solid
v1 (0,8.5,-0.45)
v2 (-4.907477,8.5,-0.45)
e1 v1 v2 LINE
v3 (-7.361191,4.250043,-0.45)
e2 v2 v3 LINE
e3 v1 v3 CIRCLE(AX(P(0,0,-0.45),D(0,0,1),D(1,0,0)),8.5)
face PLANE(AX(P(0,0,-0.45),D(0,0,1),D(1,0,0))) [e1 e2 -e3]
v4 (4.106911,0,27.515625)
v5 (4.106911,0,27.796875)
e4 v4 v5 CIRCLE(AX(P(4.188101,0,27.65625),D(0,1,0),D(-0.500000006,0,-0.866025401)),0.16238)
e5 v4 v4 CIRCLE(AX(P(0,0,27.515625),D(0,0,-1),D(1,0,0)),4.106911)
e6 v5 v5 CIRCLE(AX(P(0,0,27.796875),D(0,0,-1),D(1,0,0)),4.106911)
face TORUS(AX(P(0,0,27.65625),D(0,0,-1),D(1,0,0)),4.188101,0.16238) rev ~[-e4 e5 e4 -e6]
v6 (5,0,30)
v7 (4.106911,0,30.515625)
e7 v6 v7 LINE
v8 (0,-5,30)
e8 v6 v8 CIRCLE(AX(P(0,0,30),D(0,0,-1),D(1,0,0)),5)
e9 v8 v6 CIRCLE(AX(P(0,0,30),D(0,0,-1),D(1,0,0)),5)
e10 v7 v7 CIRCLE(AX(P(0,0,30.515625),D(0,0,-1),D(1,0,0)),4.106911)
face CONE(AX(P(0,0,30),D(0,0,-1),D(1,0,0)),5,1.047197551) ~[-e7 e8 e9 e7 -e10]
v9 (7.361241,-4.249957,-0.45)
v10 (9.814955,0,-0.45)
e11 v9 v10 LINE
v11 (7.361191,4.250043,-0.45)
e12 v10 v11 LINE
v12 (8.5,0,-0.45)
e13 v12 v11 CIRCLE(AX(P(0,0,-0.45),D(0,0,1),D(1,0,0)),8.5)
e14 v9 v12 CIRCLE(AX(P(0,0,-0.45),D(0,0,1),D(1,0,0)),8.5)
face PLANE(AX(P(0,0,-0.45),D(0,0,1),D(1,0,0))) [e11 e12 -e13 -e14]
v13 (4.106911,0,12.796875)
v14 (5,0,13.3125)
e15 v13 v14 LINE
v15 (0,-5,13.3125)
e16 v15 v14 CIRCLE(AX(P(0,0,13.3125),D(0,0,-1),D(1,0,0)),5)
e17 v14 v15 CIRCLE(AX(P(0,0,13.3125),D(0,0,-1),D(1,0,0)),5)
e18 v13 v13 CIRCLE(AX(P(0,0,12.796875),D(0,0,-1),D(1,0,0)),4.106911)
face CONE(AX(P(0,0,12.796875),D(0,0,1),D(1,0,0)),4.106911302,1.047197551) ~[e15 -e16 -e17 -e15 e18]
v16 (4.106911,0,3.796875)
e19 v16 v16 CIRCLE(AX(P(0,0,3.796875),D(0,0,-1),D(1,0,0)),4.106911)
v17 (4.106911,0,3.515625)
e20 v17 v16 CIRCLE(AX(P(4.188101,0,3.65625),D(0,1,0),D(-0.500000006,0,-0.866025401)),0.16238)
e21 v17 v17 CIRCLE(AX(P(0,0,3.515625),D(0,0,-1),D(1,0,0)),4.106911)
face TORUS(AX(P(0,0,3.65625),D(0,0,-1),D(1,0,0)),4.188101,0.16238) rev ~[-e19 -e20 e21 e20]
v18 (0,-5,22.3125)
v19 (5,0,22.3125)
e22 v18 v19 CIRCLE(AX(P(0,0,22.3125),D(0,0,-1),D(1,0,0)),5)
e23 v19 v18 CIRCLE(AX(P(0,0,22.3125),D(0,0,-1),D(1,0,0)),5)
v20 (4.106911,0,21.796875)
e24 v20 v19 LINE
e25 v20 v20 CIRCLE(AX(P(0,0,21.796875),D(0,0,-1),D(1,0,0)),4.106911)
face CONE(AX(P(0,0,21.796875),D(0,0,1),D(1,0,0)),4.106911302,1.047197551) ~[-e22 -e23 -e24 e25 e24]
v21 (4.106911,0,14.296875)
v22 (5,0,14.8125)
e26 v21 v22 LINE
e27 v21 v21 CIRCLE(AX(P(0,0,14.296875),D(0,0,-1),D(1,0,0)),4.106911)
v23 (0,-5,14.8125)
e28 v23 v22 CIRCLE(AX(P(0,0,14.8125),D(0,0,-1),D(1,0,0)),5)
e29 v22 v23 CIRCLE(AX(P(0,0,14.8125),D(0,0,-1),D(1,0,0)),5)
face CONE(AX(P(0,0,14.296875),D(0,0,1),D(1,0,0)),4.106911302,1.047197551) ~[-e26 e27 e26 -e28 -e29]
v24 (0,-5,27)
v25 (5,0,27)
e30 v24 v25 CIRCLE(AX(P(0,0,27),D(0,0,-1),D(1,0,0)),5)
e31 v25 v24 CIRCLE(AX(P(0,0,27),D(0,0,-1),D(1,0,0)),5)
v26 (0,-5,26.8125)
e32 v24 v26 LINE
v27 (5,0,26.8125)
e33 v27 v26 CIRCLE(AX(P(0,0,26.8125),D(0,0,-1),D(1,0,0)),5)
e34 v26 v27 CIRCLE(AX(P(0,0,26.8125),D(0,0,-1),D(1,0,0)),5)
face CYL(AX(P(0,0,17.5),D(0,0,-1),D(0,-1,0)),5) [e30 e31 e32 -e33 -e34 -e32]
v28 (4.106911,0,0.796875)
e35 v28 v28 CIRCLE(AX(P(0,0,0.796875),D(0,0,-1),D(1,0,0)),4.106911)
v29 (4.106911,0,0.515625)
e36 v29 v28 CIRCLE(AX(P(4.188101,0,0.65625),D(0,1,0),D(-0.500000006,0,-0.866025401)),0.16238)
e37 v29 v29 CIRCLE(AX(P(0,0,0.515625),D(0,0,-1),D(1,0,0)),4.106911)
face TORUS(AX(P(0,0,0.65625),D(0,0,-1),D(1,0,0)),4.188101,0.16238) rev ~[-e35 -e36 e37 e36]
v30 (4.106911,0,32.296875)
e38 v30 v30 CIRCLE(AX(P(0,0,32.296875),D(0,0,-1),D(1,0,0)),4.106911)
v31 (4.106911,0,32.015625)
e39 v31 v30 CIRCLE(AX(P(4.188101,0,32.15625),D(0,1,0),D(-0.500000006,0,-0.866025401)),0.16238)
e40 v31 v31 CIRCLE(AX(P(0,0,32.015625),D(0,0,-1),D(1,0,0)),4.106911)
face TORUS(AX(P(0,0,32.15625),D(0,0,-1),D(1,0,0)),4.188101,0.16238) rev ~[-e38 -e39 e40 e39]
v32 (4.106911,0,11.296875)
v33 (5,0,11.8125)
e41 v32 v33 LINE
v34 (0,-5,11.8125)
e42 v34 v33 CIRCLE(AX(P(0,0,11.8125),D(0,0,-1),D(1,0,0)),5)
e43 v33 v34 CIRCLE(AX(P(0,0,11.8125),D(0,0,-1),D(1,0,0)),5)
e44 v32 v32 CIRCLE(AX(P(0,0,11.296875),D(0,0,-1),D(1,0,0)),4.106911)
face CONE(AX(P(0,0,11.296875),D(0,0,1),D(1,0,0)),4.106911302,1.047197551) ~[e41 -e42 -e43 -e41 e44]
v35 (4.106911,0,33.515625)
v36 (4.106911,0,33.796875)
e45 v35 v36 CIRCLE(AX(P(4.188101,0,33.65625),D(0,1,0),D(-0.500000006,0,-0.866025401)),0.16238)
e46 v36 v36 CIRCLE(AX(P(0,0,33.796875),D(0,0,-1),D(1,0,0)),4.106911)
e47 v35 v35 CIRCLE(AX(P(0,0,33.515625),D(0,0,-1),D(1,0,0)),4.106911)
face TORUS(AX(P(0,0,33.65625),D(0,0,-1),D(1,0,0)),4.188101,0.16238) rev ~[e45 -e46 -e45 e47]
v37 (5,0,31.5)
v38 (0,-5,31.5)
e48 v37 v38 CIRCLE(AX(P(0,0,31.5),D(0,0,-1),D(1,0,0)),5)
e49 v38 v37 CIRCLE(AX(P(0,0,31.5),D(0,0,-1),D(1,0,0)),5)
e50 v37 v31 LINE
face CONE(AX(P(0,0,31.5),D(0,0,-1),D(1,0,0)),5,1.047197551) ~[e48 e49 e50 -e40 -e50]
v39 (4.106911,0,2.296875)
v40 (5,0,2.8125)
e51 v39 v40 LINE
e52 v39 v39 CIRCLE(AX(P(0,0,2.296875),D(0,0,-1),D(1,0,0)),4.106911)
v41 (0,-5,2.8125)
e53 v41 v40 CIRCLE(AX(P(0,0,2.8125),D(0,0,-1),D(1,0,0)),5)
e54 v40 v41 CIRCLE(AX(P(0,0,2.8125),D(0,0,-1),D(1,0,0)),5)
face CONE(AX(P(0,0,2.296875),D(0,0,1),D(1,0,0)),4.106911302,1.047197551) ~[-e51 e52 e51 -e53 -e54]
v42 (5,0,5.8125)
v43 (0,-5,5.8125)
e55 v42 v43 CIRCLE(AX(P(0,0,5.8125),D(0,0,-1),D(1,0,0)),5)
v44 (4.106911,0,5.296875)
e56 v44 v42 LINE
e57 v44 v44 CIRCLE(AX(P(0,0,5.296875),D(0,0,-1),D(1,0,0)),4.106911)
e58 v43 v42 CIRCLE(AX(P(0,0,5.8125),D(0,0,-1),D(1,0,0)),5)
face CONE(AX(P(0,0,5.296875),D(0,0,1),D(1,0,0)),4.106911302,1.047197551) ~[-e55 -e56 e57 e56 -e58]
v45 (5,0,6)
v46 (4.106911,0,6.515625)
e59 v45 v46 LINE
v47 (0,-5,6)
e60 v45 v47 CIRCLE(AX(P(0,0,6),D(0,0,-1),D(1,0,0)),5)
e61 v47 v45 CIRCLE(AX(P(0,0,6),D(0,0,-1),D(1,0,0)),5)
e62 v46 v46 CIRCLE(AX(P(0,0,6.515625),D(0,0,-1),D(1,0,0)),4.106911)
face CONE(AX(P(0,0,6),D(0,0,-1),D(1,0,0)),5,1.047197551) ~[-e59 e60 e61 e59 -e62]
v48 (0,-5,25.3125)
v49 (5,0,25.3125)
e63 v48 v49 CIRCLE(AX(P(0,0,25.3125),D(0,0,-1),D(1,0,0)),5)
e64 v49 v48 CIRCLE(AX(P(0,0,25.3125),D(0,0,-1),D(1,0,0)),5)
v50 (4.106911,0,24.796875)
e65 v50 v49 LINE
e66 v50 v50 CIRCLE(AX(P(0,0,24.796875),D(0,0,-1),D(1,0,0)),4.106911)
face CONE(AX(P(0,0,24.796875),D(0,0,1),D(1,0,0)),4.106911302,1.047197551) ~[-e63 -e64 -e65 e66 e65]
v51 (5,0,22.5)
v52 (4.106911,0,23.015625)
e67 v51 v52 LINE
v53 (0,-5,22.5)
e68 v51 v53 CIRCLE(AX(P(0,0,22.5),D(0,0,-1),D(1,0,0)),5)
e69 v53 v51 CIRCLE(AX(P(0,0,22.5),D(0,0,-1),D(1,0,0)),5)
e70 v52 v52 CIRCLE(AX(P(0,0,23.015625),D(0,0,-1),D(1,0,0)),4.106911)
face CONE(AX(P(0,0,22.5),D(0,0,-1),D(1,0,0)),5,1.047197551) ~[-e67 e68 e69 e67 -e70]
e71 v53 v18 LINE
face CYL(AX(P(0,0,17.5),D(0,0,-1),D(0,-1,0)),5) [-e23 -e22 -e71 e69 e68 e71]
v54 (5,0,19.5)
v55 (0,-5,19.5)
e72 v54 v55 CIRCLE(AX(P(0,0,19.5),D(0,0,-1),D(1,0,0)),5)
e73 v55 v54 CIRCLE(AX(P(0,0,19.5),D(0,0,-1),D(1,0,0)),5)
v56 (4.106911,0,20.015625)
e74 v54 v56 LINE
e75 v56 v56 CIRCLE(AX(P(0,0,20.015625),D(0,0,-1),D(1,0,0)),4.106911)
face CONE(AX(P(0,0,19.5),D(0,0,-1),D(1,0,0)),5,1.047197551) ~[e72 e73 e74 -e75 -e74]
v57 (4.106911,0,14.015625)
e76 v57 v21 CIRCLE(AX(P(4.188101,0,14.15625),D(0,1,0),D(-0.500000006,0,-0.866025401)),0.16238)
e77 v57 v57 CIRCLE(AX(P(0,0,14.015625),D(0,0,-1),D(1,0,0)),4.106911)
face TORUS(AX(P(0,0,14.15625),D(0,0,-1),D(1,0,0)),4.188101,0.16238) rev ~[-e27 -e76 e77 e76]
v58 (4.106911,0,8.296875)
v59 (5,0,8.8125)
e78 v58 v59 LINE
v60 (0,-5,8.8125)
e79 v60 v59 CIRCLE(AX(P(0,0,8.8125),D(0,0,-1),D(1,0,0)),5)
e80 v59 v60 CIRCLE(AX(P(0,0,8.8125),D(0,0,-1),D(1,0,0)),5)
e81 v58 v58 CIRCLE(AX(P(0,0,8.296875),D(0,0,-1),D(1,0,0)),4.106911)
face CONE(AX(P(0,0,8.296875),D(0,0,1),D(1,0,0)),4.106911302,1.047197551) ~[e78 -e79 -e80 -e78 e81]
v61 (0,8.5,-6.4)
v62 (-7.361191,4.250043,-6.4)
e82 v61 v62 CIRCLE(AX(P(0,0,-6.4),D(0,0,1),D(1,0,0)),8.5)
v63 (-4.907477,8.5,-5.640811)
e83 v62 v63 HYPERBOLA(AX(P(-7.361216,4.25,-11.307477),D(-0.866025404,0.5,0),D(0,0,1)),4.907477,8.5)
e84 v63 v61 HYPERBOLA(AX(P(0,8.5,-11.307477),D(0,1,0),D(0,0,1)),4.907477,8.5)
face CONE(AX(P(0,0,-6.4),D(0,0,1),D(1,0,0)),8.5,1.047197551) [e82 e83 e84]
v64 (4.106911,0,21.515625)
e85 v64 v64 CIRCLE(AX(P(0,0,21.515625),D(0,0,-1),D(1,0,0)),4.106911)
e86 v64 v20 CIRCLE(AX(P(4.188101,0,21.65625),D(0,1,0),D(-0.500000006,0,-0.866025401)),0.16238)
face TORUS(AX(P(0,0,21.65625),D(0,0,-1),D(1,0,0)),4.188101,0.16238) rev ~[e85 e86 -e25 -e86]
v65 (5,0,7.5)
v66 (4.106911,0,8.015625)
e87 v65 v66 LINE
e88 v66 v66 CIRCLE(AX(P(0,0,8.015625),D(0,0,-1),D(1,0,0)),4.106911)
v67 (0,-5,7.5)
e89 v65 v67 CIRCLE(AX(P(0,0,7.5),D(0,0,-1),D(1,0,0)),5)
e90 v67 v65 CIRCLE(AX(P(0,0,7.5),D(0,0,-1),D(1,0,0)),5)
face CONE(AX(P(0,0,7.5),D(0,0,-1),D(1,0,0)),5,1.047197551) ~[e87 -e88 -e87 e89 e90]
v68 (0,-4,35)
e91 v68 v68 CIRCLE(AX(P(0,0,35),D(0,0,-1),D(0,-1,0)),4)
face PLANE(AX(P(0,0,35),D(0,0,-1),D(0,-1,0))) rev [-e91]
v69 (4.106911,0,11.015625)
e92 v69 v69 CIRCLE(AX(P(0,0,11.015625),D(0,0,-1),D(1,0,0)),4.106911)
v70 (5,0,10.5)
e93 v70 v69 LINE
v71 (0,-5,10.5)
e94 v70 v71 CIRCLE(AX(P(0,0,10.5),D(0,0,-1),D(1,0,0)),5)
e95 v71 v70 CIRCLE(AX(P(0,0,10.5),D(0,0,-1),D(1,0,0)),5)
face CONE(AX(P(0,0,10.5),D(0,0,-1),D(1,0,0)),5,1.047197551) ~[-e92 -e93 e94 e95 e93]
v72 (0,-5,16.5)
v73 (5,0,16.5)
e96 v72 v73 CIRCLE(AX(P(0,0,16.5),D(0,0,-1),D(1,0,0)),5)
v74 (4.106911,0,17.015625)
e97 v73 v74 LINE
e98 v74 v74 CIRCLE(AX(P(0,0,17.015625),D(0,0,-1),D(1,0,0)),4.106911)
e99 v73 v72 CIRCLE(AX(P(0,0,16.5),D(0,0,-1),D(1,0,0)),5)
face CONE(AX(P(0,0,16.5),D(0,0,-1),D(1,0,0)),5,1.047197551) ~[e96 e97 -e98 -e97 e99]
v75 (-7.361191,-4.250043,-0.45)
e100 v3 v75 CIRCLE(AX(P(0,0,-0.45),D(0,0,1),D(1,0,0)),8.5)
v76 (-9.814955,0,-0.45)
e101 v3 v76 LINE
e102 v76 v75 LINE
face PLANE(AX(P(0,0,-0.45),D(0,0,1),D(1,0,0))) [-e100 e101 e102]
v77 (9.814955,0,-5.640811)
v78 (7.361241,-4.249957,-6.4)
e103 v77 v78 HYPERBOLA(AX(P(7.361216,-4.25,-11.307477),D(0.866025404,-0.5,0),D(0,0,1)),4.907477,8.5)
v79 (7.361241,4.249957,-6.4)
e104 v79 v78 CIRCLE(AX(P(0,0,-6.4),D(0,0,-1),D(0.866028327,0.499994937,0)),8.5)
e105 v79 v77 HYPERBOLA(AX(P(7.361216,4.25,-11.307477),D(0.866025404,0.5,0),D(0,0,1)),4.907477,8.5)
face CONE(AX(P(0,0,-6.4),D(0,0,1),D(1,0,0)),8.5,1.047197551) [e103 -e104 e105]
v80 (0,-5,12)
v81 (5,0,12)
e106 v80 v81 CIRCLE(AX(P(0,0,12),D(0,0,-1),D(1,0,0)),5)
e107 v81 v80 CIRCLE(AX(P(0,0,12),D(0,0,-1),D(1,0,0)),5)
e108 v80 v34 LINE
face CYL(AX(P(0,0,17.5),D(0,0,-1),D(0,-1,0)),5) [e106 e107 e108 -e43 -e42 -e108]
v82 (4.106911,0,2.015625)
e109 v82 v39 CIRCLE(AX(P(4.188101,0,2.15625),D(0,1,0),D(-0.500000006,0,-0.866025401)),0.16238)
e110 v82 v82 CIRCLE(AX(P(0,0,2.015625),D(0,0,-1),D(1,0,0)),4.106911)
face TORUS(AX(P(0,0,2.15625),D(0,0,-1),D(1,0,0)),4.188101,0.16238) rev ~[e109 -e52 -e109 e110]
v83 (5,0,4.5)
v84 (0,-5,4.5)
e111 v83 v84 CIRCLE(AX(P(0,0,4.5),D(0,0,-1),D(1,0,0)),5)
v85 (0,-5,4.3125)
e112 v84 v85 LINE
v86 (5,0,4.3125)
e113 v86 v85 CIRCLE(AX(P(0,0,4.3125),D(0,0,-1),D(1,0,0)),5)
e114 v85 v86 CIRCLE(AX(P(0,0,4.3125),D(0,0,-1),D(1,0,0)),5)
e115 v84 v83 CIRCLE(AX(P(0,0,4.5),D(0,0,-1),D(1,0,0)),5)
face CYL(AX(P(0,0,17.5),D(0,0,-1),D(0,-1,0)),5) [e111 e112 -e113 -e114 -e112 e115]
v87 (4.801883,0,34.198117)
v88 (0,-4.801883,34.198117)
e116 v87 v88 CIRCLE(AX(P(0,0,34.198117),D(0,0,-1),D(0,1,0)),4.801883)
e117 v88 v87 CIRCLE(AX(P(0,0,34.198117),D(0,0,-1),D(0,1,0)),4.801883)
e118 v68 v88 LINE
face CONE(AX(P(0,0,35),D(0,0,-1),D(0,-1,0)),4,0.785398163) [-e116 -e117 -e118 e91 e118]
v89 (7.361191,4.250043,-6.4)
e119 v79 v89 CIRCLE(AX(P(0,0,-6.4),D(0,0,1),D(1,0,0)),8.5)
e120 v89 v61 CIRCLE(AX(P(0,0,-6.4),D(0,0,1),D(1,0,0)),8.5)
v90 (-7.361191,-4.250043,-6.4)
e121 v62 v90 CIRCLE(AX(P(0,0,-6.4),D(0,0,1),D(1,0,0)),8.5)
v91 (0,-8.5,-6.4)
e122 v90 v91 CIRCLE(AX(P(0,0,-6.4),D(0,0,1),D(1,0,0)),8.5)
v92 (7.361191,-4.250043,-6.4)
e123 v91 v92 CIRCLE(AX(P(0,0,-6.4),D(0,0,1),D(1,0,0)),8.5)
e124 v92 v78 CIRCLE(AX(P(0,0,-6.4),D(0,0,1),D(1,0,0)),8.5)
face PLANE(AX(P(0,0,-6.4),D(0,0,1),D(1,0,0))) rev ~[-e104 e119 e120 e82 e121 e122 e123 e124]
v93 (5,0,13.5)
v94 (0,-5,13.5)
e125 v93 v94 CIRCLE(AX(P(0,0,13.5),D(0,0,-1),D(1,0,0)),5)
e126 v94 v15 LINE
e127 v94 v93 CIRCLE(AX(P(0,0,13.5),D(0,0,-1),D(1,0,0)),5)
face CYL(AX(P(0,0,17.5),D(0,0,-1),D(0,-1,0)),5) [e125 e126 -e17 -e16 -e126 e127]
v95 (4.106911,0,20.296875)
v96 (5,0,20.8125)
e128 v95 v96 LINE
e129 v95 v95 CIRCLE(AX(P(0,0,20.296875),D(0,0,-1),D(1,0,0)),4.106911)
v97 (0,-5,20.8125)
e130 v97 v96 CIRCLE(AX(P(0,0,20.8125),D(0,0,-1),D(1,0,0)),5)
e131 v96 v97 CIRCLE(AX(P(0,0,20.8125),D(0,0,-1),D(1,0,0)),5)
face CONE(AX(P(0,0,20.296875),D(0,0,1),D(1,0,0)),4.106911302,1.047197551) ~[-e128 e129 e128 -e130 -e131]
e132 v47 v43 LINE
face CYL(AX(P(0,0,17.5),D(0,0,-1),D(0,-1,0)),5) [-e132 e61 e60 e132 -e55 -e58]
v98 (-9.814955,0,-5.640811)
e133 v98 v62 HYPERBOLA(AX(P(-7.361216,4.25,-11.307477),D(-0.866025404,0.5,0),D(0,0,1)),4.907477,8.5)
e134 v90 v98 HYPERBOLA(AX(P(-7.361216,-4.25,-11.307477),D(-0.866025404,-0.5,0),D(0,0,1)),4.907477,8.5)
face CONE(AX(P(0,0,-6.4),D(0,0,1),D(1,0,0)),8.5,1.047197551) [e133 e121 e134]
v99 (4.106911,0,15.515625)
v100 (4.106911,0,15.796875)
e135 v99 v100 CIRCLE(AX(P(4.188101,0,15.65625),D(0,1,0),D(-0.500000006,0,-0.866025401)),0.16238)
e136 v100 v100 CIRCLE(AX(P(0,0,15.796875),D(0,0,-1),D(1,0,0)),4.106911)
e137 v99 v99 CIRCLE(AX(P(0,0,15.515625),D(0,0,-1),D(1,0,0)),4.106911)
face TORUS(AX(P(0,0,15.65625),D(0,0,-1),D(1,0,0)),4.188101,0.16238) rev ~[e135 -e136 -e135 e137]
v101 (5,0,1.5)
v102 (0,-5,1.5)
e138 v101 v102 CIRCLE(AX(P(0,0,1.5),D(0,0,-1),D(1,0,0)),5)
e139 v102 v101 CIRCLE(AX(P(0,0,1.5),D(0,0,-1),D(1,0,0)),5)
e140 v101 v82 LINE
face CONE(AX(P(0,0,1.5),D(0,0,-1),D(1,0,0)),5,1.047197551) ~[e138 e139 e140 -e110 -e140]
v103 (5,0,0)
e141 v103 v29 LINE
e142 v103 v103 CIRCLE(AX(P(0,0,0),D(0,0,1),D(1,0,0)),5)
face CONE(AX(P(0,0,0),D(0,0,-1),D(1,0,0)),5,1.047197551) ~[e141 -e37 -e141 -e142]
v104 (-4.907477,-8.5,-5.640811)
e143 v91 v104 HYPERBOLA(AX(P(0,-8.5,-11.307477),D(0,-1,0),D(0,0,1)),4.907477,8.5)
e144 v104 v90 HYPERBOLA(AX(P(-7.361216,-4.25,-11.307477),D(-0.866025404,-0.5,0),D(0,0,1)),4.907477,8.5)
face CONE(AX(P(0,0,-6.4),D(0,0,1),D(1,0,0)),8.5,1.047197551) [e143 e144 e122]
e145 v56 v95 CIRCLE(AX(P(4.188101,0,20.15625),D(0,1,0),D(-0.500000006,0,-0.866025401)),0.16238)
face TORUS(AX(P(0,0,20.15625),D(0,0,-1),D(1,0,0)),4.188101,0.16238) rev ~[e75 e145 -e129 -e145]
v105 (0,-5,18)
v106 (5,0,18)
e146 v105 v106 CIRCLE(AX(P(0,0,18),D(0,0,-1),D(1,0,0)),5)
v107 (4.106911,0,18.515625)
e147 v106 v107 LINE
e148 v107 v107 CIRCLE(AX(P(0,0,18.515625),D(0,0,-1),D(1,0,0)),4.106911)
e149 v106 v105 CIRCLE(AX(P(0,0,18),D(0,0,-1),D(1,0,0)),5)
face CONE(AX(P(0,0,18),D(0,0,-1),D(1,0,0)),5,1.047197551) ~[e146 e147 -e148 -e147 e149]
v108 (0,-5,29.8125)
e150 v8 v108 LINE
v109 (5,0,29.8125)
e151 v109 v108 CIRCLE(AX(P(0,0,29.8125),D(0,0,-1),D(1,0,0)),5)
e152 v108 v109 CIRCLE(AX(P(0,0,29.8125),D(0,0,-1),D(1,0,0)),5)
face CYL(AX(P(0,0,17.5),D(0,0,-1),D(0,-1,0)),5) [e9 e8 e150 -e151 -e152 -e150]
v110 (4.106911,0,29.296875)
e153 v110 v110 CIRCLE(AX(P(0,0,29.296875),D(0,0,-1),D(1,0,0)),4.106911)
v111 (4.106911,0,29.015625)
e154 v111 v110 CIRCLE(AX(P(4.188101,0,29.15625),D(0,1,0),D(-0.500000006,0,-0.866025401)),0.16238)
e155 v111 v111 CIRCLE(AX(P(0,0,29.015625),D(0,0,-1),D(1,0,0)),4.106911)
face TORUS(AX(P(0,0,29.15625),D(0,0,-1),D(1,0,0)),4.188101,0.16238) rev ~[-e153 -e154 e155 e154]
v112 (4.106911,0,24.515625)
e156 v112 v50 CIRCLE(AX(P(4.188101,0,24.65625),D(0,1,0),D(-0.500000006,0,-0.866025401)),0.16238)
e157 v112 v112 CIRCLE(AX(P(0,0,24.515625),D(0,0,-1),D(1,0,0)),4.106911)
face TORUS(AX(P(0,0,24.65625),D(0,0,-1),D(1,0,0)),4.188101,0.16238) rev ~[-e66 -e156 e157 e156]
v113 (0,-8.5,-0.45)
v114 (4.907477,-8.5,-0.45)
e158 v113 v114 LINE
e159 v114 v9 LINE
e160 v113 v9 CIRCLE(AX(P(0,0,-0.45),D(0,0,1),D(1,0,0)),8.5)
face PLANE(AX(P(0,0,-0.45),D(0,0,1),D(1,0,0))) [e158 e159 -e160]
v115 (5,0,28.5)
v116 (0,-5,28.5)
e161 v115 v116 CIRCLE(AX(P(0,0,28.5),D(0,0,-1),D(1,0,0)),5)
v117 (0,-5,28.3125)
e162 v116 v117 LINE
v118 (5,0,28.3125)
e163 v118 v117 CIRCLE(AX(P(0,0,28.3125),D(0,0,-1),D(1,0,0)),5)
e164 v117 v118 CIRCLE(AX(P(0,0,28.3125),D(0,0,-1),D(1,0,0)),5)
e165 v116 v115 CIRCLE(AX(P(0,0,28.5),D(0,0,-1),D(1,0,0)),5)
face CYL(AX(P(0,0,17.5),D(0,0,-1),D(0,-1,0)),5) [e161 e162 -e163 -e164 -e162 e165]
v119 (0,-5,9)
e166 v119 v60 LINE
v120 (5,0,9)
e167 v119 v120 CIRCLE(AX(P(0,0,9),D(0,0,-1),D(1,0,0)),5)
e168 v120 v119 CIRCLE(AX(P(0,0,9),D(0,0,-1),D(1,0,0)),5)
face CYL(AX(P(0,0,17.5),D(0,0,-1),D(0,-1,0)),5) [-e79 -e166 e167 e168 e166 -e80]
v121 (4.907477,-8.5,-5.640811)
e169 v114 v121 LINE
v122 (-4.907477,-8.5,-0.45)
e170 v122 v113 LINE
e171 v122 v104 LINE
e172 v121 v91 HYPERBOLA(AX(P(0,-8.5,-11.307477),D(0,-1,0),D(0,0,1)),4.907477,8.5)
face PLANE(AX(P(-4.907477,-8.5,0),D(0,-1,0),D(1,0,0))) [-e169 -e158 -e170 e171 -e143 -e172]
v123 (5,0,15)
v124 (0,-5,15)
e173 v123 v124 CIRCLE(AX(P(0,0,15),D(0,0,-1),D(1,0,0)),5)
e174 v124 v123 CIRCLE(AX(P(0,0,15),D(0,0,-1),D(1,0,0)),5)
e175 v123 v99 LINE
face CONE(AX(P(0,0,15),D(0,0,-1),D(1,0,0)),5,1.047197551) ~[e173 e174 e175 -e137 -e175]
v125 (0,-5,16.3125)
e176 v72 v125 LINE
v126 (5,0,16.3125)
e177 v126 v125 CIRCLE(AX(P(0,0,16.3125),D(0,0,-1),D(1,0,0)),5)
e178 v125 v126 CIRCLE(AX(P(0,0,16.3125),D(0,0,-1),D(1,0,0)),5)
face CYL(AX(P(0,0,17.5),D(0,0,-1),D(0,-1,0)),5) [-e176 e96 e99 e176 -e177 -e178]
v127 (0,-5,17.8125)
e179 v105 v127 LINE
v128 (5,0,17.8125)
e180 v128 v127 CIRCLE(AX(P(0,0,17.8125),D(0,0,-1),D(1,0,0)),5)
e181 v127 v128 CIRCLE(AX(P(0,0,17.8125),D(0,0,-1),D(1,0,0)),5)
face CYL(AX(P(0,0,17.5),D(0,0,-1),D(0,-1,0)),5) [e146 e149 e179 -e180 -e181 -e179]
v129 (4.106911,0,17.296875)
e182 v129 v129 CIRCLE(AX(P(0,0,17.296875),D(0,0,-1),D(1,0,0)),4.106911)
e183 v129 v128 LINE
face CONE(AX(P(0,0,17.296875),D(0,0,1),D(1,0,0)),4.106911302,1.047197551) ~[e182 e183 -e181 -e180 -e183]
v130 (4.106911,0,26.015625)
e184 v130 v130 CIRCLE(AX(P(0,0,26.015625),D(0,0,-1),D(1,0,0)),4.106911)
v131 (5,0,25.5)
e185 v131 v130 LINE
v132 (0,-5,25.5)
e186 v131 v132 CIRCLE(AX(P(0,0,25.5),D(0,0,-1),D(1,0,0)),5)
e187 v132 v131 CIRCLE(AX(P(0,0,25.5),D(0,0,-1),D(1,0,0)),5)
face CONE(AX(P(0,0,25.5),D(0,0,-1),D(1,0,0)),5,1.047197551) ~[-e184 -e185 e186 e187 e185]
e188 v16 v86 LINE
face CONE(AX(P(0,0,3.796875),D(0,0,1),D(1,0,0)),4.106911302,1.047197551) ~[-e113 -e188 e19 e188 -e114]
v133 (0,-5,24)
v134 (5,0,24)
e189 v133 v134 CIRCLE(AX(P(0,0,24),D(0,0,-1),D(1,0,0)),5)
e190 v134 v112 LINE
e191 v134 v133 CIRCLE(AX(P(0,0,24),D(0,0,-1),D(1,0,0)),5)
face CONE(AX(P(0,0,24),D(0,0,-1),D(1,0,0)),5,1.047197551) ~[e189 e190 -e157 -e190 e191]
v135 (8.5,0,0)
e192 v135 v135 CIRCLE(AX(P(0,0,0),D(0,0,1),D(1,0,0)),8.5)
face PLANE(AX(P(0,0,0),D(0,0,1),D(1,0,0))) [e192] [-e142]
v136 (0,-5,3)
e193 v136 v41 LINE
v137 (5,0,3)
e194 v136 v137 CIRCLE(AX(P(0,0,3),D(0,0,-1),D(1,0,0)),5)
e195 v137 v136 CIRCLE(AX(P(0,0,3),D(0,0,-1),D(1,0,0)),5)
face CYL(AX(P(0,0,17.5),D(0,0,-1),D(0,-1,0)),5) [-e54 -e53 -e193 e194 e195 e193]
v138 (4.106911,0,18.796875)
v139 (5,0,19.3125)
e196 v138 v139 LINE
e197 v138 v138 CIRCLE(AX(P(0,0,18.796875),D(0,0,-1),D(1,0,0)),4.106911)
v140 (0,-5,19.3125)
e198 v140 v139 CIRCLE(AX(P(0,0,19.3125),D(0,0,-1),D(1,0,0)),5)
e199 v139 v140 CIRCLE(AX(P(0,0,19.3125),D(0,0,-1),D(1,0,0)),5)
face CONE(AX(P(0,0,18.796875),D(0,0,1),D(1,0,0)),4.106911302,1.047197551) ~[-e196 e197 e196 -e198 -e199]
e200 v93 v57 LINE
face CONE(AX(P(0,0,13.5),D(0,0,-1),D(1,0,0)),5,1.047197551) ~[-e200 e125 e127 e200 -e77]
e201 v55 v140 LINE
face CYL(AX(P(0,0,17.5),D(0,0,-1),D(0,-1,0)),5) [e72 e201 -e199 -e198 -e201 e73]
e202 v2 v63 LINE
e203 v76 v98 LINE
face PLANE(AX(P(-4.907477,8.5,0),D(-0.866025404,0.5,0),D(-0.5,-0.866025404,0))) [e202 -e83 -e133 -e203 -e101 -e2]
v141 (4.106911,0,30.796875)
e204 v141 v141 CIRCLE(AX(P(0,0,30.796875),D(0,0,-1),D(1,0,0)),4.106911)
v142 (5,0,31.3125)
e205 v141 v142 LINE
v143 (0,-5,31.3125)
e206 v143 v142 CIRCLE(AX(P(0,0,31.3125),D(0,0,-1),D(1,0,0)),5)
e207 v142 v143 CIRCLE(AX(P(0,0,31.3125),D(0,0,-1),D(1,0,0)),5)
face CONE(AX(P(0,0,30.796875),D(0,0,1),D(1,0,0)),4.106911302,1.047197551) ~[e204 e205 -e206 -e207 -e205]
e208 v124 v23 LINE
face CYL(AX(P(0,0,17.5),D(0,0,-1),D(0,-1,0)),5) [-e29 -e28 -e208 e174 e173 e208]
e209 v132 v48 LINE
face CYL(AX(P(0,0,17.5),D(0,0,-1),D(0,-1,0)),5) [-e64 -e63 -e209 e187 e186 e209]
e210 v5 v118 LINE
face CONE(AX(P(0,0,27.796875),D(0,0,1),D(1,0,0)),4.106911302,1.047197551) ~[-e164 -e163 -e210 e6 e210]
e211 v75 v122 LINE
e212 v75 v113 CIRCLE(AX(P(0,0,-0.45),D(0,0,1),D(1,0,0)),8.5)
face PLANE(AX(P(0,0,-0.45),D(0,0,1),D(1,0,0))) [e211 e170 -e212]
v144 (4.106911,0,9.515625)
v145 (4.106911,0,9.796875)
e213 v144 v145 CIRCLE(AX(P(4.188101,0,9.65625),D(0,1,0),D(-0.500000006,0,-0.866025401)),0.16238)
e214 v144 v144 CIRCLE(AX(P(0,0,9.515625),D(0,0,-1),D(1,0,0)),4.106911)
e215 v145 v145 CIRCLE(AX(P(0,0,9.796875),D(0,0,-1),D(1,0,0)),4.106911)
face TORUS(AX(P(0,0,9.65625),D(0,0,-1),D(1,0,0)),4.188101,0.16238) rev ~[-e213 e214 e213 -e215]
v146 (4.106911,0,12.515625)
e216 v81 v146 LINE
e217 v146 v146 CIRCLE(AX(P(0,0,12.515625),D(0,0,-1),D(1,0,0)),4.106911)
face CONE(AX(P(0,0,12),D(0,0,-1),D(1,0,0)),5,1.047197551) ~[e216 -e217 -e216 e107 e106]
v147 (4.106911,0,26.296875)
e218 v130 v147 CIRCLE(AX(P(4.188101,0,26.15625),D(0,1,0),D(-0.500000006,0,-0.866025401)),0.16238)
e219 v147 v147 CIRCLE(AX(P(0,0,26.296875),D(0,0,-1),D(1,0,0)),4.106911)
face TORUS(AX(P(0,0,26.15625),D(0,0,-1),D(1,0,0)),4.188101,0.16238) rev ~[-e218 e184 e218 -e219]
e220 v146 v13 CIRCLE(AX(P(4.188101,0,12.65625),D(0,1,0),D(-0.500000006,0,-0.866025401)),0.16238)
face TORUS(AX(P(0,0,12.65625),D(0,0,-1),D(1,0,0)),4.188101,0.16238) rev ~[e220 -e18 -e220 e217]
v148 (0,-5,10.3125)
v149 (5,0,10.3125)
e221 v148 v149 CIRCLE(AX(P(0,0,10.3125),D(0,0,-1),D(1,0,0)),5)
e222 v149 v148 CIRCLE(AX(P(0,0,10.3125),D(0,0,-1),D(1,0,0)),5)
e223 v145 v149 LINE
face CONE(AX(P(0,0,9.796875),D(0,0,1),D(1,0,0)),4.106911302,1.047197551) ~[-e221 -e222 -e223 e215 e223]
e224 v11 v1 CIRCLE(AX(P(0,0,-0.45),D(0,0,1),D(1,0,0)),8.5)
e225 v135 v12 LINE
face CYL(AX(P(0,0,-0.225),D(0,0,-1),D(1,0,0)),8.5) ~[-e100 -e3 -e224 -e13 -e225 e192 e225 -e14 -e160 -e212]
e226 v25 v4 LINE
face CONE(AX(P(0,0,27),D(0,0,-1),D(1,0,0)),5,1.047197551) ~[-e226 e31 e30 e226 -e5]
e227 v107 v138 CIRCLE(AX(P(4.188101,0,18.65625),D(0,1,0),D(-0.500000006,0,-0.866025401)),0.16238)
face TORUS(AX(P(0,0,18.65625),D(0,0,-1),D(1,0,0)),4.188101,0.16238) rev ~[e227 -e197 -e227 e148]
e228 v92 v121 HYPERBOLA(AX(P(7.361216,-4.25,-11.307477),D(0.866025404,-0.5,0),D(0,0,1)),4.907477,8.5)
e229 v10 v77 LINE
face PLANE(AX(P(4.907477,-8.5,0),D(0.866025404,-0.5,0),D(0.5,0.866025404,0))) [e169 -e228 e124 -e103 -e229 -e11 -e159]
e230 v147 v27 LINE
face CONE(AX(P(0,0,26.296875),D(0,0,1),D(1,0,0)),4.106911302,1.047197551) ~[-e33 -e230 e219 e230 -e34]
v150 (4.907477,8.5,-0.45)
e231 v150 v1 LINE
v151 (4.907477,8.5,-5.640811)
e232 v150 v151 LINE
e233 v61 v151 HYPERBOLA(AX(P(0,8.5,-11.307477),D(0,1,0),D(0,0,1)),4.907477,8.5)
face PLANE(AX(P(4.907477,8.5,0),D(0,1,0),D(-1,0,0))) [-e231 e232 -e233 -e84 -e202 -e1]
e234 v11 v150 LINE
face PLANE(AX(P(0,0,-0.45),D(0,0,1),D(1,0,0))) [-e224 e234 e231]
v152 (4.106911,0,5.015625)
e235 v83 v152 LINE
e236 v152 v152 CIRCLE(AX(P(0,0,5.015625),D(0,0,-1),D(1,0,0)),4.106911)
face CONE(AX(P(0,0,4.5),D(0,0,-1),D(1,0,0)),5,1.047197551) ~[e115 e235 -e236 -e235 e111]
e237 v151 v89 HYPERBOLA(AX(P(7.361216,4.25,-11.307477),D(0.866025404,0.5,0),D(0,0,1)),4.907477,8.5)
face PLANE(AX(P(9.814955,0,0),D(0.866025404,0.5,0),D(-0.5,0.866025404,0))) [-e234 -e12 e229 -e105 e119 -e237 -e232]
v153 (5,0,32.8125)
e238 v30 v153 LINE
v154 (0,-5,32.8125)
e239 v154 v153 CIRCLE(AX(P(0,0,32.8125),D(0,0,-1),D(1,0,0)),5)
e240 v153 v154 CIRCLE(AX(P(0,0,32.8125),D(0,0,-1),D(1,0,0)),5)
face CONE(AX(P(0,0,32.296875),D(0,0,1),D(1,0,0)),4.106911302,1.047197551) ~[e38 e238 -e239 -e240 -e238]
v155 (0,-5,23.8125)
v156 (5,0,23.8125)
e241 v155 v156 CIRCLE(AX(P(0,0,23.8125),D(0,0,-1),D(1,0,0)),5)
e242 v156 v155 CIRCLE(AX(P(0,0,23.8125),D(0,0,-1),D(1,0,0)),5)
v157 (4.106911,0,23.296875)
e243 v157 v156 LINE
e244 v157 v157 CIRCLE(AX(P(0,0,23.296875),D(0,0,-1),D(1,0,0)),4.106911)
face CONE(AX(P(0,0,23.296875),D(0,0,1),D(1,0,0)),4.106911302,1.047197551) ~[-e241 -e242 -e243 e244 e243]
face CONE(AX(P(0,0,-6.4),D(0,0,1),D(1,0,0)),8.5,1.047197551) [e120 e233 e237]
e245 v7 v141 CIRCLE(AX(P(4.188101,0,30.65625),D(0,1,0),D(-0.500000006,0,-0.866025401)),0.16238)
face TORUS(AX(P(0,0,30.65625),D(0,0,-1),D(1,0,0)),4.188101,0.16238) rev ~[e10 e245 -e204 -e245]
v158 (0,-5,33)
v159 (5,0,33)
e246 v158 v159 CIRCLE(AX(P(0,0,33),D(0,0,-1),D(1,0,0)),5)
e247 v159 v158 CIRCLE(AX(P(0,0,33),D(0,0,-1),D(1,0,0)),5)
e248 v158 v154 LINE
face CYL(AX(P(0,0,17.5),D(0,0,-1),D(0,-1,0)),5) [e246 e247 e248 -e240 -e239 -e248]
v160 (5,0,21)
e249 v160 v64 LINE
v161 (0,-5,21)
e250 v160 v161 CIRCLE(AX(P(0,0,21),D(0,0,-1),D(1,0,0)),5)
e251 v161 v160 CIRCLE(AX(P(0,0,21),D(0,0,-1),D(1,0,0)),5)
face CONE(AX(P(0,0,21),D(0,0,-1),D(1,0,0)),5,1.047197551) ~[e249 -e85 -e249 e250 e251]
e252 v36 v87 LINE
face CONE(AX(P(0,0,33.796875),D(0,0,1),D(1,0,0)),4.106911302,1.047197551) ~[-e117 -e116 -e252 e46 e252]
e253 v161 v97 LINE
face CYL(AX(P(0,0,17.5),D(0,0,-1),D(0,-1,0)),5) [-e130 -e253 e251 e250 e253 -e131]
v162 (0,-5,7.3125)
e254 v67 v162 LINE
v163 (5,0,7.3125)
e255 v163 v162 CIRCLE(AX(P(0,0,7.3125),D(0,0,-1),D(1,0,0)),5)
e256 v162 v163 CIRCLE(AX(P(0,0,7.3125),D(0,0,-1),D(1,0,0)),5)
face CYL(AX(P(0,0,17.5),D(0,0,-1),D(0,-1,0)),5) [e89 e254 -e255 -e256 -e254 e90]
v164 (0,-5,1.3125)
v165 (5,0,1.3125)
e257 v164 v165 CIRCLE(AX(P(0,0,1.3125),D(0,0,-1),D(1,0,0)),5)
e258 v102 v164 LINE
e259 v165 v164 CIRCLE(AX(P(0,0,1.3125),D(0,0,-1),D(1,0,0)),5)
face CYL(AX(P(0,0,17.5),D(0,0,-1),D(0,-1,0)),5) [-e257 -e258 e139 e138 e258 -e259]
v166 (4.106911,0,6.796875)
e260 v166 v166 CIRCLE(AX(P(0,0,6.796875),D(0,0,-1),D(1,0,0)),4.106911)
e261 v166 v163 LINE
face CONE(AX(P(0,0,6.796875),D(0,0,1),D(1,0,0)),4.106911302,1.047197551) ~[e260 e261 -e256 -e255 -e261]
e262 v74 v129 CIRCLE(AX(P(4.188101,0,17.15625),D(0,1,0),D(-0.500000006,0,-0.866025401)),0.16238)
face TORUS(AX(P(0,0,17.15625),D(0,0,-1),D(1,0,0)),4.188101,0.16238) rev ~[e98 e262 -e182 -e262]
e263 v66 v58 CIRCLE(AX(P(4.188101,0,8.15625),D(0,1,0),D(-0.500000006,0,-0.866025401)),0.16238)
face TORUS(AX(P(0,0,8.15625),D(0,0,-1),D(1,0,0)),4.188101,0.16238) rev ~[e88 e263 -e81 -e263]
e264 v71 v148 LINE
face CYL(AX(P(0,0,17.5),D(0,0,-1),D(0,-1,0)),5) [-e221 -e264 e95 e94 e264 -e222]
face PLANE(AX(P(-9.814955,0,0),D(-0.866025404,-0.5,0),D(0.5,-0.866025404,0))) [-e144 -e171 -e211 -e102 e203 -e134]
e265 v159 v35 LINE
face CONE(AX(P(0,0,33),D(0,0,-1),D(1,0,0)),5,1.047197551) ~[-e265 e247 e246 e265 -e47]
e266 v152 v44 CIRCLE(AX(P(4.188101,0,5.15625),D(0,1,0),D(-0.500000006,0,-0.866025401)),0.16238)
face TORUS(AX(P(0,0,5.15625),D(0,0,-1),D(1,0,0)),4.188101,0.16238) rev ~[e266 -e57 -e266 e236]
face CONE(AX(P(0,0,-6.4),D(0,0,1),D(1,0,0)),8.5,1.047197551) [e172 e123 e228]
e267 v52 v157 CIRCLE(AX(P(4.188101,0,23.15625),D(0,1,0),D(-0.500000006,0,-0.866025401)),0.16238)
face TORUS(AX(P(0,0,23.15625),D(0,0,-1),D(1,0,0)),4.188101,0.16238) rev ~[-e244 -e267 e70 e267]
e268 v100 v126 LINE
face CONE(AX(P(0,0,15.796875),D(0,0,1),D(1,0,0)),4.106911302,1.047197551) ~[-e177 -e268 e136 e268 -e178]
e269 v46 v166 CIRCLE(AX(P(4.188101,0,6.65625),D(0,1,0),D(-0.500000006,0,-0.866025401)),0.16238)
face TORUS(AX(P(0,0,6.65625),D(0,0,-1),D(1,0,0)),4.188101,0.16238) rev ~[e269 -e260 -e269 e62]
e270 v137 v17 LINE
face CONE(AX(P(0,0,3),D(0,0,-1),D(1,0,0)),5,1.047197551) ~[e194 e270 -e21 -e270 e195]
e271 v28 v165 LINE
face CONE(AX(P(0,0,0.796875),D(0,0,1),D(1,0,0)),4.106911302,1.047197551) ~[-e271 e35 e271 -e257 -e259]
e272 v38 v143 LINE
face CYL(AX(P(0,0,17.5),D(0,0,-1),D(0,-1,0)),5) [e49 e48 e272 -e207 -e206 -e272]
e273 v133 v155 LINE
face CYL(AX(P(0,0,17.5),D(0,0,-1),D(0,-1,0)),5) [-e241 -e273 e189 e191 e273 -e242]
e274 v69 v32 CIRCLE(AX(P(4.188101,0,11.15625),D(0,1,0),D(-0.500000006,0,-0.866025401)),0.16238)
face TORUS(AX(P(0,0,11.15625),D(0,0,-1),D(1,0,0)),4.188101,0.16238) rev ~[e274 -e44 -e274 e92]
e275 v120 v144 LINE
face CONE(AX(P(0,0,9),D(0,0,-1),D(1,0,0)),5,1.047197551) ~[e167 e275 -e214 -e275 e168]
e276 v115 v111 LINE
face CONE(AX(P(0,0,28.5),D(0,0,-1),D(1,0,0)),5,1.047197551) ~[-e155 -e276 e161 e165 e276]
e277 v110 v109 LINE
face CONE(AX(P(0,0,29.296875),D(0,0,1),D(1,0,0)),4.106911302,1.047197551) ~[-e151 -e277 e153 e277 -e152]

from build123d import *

# Parameters (mm, degrees)
SKETCH5_W               = 35
SKETCH5_H               = 5
THREAD_SIMPLE_COUNT     = 23
THREAD_SIMPLE_PITCH     = 1.5
SKETCH15_W              = 6.4
SKETCH15_H              = 10
SKETCH19_W              = 0.45
SKETCH19_H              = 1.5
SKETCH21_OUTSIDE_W      = 32.028
SKETCH21_OUTSIDE_H      = 32.028
CUT_PROFILE_OUTER_DEPTH = 38.749172176


with BuildPart() as part:
    # Sketch5 → body (revolve)
    with BuildSketch(Plane(origin=(0, 0, 0), x_dir=(0, 0, -1), z_dir=(1, 0, 0)), mode=Mode.PRIVATE) as body_sk:
        with Locations((-17.5, 2.5)):
            Rectangle(SKETCH5_W, SKETCH5_H)
    revolve(body_sk.sketch.rotate(Axis((0, 0, 35), (0, 0, -1)), 180), axis=Axis((0, 0, 35), (0, 0, -1)))

    # Sketch11 → cut-chamfer-start (revolve, cut)
    with BuildSketch(Plane(origin=(0, 0, 0), x_dir=(0, 0, -1), z_dir=(1, 0, 0))):
        Polygon((-35, -5), (-35, -4), (-34, -5), align=None)
    revolve(axis=Axis((0, 0, 35), (0, 0, -1)), mode=Mode.SUBTRACT)

    # Sketch8 → thread-single (revolve, cut)
    with BuildSketch(Plane(origin=(0, 0, 0), x_dir=(0, 0, -1), z_dir=(1, 0, 0)), mode=Mode.PRIVATE) as thread_single_sk:
        with BuildLine():
            Line((-1.3125, -5), (0, -5))
            Line((0, -5), (-0.515625, -4.106911302))
            ThreePointArc((-0.515625, -4.106911302), (-0.65625, -4.025721421), (-0.796875, -4.106911302))
            Line((-0.796875, -4.106911302), (-1.3125, -5))
        make_face()
    thread_single = revolve(thread_single_sk.sketch.rotate(Axis((0, 0, 35), (0, 0, -1)), 270), axis=Axis((0, 0, 35), (0, 0, -1)), mode=Mode.SUBTRACT)

    # thread-simple: thread-single ×23
    with Locations(*[(0, 0, i * THREAD_SIMPLE_PITCH) for i in range(1, THREAD_SIMPLE_COUNT)]):
        add(thread_single, mode=Mode.SUBTRACT)

    # Sketch15 → body-head (revolve)
    with BuildSketch(Plane(origin=(0, 0, 0), x_dir=(0, 0, -1), z_dir=(1, 0, 0)), mode=Mode.PRIVATE) as body_head_sk:
        with Locations((3.2, -5)):
            Rectangle(SKETCH15_W, SKETCH15_H)
    revolve(body_head_sk.sketch.rotate(Axis((0, 0, -6.4), (0, 0, 1)), 90), axis=Axis((0, 0, -6.4), (0, 0, 1)))

    # Sketch19 → cut-head-profile (revolve, cut)
    with BuildSketch(Plane(origin=(0, 0, 0), x_dir=(0, 0, -1), z_dir=(1, 0, 0)), mode=Mode.PRIVATE) as cut_head_profile_sk:
        with Locations((0.225, -9.25)):
            Rectangle(SKETCH19_W, SKETCH19_H)
        Polygon((6.4, -10), (6.4, -8.5), (5.533974596, -10), align=None)
    revolve(cut_head_profile_sk.sketch.rotate(Axis((0, 0, -6.4), (0, 0, 1)), 90), axis=Axis((0, 0, -6.4), (0, 0, 1)), mode=Mode.SUBTRACT)

    # Sketch21 outside → cut-profile-outer (cut, through all)
    with BuildSketch(Plane.XY):
        Rectangle(SKETCH21_OUTSIDE_W, SKETCH21_OUTSIDE_H)
        Polygon((9.814954576, 0), (4.907477288, 8.5), (-4.907477288, 8.5), (-9.814954576, 0), (-4.907477288, -8.5), (4.907477288, -8.5), align=None, mode=Mode.SUBTRACT)
    extrude(amount=-CUT_PROFILE_OUTER_DEPTH, mode=Mode.SUBTRACT)


solid = part.part
